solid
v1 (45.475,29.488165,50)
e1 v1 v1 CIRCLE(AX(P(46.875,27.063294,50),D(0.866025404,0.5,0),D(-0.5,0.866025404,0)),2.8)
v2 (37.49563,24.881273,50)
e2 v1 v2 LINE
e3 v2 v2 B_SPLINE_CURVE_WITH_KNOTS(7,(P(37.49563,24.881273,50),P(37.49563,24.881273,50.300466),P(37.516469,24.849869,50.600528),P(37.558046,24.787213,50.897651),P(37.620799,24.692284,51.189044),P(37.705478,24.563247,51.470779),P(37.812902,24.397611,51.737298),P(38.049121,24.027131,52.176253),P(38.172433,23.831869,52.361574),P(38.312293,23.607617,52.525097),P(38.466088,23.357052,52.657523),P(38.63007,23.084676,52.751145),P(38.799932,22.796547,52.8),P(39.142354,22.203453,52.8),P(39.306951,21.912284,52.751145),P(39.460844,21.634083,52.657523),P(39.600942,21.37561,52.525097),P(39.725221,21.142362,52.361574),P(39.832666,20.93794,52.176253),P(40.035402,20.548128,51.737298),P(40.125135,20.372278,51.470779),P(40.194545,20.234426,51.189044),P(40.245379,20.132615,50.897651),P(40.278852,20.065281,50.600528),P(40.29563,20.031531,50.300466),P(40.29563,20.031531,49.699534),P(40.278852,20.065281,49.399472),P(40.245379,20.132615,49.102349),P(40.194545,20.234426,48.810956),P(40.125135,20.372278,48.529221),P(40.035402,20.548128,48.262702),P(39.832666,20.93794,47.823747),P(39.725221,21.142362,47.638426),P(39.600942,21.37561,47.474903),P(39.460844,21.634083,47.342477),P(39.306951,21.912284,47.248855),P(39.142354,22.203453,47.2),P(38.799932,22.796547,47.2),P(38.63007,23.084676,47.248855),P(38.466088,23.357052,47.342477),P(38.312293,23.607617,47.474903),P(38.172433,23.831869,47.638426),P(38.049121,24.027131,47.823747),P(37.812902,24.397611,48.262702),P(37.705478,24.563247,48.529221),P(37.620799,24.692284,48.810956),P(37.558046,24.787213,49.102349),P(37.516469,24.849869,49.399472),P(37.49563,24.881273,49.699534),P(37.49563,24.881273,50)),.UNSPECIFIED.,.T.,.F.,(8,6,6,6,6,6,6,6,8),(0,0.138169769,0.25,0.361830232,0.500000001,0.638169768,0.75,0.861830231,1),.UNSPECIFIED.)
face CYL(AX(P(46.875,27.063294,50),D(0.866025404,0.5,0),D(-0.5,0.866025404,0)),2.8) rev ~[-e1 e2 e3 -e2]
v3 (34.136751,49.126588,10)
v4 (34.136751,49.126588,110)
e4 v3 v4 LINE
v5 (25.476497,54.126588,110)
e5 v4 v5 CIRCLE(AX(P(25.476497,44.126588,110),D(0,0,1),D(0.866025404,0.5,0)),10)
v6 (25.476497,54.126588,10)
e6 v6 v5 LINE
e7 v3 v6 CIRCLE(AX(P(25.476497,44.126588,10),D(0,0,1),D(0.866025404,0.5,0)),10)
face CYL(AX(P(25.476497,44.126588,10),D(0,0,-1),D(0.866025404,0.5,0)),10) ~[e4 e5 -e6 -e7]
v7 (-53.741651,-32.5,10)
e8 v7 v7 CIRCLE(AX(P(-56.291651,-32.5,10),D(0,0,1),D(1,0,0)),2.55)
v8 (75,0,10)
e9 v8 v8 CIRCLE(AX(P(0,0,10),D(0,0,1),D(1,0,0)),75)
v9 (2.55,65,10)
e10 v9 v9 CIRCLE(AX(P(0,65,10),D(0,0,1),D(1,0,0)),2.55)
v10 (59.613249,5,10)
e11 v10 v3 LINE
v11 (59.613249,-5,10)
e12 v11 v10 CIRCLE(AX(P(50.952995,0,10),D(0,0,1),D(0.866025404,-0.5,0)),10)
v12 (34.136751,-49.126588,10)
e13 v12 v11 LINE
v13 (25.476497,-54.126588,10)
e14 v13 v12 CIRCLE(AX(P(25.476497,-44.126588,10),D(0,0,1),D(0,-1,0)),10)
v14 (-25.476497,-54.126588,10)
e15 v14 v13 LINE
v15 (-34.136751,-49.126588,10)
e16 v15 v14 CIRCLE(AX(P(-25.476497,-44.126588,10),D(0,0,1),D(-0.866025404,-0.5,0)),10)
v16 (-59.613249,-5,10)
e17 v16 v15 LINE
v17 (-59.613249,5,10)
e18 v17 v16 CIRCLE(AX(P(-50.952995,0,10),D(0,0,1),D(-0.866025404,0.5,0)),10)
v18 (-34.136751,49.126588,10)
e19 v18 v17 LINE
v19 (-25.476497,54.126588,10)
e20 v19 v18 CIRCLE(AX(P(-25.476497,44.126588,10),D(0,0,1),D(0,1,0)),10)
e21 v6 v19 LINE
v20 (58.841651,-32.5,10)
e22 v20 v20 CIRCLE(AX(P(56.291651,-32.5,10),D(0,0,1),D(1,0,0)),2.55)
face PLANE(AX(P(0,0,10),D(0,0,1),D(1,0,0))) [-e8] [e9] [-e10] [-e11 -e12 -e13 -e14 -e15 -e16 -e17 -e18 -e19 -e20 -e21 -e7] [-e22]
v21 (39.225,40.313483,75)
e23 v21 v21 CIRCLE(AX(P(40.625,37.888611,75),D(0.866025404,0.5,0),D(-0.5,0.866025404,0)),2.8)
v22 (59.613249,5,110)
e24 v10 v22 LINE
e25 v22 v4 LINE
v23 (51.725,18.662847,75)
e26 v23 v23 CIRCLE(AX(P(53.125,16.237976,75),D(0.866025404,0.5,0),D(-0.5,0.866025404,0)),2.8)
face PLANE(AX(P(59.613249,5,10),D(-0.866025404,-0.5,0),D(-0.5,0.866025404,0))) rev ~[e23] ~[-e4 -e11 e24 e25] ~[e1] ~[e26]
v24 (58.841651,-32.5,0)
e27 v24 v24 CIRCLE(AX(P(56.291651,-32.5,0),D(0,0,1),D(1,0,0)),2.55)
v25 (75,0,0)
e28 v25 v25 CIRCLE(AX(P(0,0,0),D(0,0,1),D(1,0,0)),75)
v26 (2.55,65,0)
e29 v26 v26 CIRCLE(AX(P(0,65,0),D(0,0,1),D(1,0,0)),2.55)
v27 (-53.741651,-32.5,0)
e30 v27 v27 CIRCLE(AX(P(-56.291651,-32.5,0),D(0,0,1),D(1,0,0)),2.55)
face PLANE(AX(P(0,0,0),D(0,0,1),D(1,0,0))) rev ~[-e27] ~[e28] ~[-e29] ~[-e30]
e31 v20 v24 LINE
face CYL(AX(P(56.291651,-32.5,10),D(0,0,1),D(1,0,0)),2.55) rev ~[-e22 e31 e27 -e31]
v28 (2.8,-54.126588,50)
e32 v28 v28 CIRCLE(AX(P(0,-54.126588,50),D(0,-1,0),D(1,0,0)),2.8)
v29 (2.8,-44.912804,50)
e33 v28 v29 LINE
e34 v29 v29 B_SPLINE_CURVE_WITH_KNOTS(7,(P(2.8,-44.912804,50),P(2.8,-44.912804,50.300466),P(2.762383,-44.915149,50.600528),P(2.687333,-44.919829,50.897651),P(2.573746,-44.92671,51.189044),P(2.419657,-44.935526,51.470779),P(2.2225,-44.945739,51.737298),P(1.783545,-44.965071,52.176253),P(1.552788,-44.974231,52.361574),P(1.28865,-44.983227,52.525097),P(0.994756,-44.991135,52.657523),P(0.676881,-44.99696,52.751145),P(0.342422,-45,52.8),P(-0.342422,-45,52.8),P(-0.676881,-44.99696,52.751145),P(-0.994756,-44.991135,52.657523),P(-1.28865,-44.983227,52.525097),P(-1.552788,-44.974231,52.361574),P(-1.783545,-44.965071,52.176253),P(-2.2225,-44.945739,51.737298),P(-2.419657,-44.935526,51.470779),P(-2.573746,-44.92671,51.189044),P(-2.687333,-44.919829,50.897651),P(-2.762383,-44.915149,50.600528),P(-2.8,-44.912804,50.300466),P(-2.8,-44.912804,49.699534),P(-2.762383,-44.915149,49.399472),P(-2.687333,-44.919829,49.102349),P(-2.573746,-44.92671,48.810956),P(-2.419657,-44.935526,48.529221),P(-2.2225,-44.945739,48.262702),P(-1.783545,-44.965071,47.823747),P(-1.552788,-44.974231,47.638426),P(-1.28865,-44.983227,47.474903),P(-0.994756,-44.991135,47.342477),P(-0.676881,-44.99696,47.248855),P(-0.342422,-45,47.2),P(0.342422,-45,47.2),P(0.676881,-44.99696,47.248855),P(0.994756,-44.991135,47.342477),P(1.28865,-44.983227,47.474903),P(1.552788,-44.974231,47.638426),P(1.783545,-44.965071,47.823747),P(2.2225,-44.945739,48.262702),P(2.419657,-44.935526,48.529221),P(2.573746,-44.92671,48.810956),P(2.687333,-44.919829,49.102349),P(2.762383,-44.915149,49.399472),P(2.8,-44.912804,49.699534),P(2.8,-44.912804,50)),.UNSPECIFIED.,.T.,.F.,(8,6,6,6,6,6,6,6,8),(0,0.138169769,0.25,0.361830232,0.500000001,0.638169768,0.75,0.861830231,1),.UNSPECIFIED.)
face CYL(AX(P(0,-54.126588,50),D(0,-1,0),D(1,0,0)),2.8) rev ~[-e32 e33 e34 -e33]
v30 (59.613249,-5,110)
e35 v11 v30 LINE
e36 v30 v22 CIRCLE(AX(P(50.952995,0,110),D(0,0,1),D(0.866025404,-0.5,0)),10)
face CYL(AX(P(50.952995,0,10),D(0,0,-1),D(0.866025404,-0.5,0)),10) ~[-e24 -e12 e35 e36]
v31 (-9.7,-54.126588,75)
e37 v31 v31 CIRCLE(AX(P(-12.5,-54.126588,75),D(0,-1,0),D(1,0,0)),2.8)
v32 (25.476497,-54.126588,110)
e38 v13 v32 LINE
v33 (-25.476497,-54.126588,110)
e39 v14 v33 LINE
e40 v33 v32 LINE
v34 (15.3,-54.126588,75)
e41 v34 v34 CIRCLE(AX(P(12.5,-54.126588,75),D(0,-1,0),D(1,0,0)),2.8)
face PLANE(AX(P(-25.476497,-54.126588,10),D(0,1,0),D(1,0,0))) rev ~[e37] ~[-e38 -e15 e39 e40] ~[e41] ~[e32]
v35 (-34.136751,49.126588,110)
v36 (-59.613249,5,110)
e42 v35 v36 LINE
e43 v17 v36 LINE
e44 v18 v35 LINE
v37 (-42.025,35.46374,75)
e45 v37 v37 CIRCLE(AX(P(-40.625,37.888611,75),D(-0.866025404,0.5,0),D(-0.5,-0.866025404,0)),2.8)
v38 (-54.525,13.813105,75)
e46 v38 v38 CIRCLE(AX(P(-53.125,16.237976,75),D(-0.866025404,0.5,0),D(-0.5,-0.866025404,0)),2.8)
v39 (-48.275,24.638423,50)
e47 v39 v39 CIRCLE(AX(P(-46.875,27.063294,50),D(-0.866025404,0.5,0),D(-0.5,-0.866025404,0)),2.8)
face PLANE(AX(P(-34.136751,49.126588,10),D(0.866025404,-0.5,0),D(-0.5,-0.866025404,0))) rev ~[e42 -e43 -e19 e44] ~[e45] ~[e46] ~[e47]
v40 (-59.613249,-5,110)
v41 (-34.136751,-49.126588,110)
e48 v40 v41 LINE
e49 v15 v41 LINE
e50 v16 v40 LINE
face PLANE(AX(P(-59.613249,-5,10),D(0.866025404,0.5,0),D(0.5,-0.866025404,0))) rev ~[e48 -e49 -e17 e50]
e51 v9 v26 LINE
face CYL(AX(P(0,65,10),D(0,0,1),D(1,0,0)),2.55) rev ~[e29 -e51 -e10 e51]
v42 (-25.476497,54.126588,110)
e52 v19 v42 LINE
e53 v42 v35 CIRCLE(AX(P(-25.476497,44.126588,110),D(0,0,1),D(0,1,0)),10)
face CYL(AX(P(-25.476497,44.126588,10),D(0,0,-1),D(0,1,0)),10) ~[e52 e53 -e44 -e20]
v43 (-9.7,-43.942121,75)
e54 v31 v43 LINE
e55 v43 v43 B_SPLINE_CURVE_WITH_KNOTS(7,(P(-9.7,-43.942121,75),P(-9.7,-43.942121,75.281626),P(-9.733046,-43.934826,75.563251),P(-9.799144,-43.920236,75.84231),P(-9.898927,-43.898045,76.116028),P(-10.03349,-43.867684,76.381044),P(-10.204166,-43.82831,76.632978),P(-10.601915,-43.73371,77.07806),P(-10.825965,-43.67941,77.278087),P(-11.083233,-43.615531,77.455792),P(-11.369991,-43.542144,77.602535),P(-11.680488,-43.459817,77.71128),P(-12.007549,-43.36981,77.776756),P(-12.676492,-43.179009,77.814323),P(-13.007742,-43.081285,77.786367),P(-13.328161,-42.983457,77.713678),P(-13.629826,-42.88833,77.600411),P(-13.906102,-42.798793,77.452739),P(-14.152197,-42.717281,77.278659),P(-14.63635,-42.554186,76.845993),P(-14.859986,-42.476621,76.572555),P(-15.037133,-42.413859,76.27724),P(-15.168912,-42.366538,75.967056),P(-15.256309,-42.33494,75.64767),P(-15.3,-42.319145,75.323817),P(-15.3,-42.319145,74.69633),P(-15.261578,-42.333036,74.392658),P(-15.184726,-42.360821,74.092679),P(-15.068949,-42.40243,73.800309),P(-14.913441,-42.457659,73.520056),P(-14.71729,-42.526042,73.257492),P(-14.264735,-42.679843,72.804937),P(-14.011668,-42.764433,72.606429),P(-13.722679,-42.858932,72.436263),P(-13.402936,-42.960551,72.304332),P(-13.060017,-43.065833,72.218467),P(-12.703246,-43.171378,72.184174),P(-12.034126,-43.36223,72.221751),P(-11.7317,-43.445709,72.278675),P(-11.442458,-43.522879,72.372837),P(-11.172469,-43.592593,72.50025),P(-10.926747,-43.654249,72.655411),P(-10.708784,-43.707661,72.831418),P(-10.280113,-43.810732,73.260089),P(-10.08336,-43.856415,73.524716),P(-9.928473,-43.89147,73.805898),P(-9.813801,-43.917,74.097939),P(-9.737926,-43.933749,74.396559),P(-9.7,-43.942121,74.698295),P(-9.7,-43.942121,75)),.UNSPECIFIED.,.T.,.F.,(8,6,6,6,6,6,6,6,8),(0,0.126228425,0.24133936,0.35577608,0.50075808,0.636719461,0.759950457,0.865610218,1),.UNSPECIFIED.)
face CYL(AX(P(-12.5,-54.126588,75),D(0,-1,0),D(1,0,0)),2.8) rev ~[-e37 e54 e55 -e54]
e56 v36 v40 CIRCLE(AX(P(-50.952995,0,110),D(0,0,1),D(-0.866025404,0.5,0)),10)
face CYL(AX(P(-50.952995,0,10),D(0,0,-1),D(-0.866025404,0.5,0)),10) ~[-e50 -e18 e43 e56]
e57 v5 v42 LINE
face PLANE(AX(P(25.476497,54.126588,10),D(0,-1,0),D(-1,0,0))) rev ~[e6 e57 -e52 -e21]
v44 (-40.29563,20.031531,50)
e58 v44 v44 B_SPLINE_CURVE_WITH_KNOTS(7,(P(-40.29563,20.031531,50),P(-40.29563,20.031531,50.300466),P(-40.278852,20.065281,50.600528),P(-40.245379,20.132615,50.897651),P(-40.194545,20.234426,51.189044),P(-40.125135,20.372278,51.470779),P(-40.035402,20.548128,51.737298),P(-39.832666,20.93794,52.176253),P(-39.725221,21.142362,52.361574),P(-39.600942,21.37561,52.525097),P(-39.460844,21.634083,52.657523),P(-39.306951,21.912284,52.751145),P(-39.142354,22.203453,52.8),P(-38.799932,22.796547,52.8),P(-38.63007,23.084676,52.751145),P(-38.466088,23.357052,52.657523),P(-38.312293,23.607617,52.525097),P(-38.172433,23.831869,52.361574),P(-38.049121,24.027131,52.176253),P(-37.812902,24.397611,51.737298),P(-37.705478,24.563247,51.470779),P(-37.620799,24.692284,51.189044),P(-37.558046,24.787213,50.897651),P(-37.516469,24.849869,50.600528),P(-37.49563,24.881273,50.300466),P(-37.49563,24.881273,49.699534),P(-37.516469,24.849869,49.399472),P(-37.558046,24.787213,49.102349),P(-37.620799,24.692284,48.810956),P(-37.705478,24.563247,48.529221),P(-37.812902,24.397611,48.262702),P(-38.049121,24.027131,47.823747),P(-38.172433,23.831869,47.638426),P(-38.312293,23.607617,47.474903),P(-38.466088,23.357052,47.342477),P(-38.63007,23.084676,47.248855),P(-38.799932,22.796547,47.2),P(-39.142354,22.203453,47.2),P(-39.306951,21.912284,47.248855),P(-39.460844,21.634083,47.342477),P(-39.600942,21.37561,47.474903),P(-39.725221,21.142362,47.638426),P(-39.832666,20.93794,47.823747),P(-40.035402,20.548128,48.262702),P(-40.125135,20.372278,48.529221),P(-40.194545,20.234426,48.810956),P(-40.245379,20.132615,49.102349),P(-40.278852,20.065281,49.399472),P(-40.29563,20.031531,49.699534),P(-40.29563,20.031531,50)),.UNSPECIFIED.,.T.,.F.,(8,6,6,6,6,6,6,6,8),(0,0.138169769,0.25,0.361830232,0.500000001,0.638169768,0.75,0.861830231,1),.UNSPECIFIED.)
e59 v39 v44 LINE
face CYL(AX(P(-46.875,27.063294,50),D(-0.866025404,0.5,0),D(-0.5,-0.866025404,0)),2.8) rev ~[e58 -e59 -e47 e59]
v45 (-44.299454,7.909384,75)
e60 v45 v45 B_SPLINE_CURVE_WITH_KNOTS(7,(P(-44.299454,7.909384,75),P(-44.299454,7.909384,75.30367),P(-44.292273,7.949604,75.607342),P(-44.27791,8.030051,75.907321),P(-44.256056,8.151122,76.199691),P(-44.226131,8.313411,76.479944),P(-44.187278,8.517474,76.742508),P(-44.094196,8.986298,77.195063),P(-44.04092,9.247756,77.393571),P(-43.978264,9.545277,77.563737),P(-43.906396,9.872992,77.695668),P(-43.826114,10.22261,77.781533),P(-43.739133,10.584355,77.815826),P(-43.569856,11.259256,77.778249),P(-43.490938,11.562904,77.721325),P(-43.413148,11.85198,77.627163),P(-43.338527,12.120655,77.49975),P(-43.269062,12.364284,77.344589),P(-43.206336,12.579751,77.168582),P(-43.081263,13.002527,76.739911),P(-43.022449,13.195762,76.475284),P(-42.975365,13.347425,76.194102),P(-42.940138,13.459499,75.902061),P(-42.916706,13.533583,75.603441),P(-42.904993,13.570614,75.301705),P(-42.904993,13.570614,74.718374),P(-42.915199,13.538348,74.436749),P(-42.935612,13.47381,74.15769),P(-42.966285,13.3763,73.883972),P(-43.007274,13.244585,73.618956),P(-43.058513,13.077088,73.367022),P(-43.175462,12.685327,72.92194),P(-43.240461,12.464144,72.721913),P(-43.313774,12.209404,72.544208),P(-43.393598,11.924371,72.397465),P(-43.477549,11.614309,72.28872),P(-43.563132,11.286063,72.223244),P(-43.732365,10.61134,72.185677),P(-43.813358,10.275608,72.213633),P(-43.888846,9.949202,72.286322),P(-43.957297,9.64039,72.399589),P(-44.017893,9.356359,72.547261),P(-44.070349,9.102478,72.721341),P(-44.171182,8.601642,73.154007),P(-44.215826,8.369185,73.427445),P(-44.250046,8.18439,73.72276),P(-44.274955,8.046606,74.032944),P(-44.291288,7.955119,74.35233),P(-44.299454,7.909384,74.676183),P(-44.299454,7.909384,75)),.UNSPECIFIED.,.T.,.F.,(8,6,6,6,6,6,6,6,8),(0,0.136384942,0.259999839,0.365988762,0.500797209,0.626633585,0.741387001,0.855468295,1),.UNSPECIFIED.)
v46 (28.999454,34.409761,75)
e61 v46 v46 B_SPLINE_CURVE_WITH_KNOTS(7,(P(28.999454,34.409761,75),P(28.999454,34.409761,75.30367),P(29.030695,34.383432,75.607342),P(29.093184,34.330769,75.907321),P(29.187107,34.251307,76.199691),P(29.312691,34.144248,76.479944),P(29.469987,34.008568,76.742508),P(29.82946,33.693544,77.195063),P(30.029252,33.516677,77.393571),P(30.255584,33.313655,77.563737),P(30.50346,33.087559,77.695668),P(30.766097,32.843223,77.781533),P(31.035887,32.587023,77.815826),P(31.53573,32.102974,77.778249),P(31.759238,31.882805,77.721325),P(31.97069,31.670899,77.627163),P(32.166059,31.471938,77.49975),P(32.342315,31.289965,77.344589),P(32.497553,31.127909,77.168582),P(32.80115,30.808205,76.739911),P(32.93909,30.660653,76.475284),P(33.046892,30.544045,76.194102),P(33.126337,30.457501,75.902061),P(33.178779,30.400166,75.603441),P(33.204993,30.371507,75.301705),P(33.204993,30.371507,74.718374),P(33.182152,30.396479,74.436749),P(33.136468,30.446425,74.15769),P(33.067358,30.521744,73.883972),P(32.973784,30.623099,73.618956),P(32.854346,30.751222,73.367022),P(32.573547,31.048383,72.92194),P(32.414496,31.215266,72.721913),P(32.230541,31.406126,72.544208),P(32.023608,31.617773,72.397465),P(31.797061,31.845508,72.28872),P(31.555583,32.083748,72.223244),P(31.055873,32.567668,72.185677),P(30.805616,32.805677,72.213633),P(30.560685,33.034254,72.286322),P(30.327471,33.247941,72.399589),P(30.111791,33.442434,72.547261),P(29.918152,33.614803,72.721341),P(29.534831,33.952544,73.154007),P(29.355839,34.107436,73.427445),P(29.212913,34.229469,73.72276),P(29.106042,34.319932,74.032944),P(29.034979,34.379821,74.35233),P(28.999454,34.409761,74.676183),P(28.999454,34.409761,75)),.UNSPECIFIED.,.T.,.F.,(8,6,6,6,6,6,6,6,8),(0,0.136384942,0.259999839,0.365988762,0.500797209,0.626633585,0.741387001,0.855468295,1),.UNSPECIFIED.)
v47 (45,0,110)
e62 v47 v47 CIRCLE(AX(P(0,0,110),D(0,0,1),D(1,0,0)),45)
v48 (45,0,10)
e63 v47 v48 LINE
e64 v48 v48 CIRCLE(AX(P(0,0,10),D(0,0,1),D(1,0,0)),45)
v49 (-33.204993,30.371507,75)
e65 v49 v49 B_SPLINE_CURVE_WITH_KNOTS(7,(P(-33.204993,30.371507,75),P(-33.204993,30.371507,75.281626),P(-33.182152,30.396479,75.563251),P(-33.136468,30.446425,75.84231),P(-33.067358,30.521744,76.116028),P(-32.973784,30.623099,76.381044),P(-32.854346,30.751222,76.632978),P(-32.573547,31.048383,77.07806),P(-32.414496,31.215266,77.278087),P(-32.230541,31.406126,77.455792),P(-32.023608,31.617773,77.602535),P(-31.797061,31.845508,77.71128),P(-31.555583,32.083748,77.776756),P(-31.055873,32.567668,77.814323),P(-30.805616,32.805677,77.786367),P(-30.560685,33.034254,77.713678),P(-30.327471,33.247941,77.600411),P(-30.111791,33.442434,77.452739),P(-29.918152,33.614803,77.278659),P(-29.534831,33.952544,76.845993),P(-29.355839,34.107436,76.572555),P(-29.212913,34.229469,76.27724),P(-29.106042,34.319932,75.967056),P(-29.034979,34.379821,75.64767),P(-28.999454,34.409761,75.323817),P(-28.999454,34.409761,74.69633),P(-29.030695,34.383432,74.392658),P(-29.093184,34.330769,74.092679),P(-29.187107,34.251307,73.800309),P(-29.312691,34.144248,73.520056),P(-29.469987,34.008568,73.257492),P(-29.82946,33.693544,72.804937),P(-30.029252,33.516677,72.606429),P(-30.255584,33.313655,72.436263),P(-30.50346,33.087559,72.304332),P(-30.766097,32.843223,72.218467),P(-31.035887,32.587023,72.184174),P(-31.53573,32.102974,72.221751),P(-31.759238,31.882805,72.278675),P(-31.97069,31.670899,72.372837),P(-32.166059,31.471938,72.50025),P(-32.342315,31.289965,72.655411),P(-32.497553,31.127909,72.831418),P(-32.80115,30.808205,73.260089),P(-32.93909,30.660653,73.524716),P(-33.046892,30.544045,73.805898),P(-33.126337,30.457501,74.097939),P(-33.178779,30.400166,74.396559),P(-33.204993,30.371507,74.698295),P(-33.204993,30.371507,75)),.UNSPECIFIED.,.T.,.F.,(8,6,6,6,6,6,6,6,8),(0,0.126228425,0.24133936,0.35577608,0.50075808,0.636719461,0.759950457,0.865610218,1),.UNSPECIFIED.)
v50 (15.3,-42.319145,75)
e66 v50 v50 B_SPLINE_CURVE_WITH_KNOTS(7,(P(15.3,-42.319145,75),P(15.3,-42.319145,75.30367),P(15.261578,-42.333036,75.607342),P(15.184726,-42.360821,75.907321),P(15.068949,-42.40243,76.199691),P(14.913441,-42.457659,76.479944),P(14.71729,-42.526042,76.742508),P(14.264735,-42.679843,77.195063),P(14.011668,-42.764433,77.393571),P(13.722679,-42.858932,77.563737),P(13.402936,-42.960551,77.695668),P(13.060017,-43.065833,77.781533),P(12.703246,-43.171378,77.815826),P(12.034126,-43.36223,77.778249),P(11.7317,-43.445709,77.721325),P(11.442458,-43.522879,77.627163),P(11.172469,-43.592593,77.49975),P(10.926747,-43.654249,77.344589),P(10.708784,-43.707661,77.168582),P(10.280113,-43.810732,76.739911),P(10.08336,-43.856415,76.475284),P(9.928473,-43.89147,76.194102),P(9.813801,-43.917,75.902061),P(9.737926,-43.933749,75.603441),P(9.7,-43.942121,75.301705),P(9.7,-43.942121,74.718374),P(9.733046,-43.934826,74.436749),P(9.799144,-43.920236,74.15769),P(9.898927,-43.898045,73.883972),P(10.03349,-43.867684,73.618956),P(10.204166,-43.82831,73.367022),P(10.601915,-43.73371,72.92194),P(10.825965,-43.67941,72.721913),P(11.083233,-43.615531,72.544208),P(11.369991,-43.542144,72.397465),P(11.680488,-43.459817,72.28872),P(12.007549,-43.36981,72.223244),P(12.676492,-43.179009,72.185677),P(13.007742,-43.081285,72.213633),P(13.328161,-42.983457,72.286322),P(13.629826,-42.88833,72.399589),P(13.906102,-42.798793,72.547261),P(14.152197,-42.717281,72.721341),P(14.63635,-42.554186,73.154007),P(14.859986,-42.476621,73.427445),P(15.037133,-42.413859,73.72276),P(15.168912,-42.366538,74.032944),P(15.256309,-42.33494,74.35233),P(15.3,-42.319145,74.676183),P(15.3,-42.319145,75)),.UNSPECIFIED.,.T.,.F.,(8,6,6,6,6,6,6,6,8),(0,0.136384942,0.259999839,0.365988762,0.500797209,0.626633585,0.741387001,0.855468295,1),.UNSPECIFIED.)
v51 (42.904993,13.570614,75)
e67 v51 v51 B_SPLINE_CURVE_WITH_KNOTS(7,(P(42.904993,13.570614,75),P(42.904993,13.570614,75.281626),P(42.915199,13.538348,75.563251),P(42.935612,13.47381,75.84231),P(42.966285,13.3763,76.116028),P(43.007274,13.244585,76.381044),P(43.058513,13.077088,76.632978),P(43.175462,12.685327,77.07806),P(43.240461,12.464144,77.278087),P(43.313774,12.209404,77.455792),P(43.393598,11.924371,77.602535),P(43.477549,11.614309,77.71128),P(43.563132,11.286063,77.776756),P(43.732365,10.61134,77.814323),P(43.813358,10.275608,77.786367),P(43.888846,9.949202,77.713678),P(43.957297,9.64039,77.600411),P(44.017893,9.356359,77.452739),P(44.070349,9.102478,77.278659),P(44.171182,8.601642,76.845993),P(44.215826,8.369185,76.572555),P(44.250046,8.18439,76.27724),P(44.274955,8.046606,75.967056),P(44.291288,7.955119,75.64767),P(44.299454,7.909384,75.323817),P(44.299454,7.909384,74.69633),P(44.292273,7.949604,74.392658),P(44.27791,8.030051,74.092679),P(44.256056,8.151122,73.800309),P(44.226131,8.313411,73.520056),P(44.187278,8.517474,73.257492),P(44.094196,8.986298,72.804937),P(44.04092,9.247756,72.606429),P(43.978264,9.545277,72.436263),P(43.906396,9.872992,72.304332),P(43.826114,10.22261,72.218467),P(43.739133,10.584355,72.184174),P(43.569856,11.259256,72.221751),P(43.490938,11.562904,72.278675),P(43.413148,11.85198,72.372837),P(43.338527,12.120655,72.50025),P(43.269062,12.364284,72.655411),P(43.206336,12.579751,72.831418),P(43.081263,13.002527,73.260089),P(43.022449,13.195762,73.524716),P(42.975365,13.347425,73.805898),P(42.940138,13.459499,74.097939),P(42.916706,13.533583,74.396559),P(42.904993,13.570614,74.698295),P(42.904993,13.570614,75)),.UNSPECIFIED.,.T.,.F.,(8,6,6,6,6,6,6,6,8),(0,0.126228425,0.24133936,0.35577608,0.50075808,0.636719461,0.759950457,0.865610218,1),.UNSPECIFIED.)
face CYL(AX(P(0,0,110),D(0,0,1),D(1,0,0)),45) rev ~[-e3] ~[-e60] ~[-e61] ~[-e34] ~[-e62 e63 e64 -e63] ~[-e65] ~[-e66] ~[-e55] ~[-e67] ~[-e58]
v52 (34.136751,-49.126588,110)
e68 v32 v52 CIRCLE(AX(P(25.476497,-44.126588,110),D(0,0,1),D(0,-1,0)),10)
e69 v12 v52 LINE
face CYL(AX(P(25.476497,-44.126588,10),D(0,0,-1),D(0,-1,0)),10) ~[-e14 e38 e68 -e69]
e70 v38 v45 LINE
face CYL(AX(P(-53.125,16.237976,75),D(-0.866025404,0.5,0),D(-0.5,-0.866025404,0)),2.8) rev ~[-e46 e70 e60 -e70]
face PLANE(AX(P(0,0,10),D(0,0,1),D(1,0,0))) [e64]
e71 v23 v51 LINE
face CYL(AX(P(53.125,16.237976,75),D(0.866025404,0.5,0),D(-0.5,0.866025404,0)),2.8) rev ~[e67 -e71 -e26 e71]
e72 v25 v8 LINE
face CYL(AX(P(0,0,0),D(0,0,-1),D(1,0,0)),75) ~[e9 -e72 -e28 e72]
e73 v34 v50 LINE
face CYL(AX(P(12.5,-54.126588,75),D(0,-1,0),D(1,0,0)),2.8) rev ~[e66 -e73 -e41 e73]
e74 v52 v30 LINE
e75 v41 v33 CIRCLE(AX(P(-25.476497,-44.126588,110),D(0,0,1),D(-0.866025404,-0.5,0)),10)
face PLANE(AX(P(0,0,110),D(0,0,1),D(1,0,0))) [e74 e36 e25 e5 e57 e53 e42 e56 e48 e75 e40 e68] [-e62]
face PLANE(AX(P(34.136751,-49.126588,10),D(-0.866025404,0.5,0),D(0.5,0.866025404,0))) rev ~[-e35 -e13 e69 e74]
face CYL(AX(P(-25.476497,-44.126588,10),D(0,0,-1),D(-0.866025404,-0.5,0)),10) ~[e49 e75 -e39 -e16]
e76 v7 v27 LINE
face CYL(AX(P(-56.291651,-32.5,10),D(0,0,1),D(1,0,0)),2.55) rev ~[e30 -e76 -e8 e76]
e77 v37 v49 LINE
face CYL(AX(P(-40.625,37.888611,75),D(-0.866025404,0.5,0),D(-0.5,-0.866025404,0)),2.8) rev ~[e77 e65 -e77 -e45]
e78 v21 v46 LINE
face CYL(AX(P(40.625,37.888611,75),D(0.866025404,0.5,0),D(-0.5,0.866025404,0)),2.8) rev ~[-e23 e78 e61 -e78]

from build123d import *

# Parameters (mm, degrees)
SKETCH1_R               = 75
BOSS_EXTRUDE1_DEPTH     = 10
BOSS_EXTRUDE2_DEPTH     = 100
SKETCH4_R               = 45
CUT_EXTRUDE1_DEPTH      = 100
CUT_EXTRUDE2_REACH      = 187.469
CUT_EXTRUDE2_END_RADIUS = 45
SKETCH5_R               = 2.8
CIRPATTERN1_COUNT       = 3
SKETCH7_R               = 2.55
CUT_EXTRUDE3_DEPTH      = 10


with BuildPart() as part:
    # Sketch1 → Boss-Extrude1 (new body)
    with BuildSketch(Plane.XY):
        Circle(SKETCH1_R)
    extrude(amount=BOSS_EXTRUDE1_DEPTH)

    # Sketch2 → Boss-Extrude2 (add)
    with BuildSketch(Plane.XY.offset(10)):
        with BuildLine():
            Line((59.613248654, 5), (34.136751346, 49.126587737))
            ThreePointArc((34.136751346, 49.126587737), (30.476497308, 52.786841774), (25.476497308, 54.126587737))
            Line((25.476497308, 54.126587737), (-25.476497308, 54.126587737))
            ThreePointArc((-25.476497308, 54.126587737), (-30.476497308, 52.786841774), (-34.136751346, 49.126587737))
            Line((-34.136751346, 49.126587737), (-59.613248654, 5))
            ThreePointArc((-59.613248654, 5), (-60.952994616, 0), (-59.613248654, -5))
            Line((-59.613248654, -5), (-34.136751346, -49.126587737))
            ThreePointArc((-34.136751346, -49.126587737), (-30.476497308, -52.786841774), (-25.476497308, -54.126587737))
            Line((-25.476497308, -54.126587737), (25.476497308, -54.126587737))
            ThreePointArc((25.476497308, -54.126587737), (30.476497308, -52.786841774), (34.136751346, -49.126587737))
            Line((34.136751346, -49.126587737), (59.613248654, -5))
            ThreePointArc((59.613248654, -5), (60.952994616, 0), (59.613248654, 5))
        make_face()
    extrude(amount=BOSS_EXTRUDE2_DEPTH)

    # Sketch4 → Cut-Extrude1 (cut)
    with BuildSketch(Plane.XY.offset(110)):
        Circle(SKETCH4_R)
    extrude(amount=-CUT_EXTRUDE1_DEPTH, mode=Mode.SUBTRACT)

    # Cut-Extrude2: up to this cylinder (the profile starts outside it)
    cut_extrude2_end = Plane(origin=(0, 0, 62.5), z_dir=(0, 0, 1)) * Cylinder(CUT_EXTRUDE2_END_RADIUS, 490.938, mode=Mode.PRIVATE)
    # Sketch5 → Cut-Extrude2 (cut, up to the surface)
    with BuildSketch(Plane.XZ.offset(54.126587737), mode=Mode.PRIVATE) as cut_extrude2_sk1:
        with Locations((0, 50)):
            Circle(SKETCH5_R)
    cut_extrude2_tool1 = extrude(cut_extrude2_sk1.sketch, amount=-CUT_EXTRUDE2_REACH, mode=Mode.PRIVATE) - cut_extrude2_end
    # Sketch5 → Cut-Extrude2 (cut, up to the surface)
    with BuildSketch(Plane.XZ.offset(54.126587737), mode=Mode.PRIVATE) as cut_extrude2_sk2:
        with Locations((-12.5, 75)):
            Circle(SKETCH5_R)
    cut_extrude2_tool2 = extrude(cut_extrude2_sk2.sketch, amount=-CUT_EXTRUDE2_REACH, mode=Mode.PRIVATE) - cut_extrude2_end
    # Sketch5 → Cut-Extrude2 (cut, up to the surface)
    with BuildSketch(Plane.XZ.offset(54.126587737), mode=Mode.PRIVATE) as cut_extrude2_sk3:
        with Locations((12.5, 75)):
            Circle(SKETCH5_R)
    cut_extrude2_tool3 = extrude(cut_extrude2_sk3.sketch, amount=-CUT_EXTRUDE2_REACH, mode=Mode.PRIVATE) - cut_extrude2_end
    cut_extrude2 = cut_extrude2_tool1.solids().sort_by_distance((0, -54.126588, 50))[0] + cut_extrude2_tool2.solids().sort_by_distance((-12.5, -54.126588, 75))[0] + cut_extrude2_tool3.solids().sort_by_distance((12.5, -54.126588, 75))[0]
    add(cut_extrude2, mode=Mode.SUBTRACT)

    # CirPattern1: Cut-Extrude2 ×3 about axis
    cirpattern1_axis = Axis((0, 0, -117.279220614), (0, 0, 1))
    for i in range(1, CIRPATTERN1_COUNT):
        add(cut_extrude2.rotate(cirpattern1_axis, i * 360 / CIRPATTERN1_COUNT), mode=Mode.SUBTRACT)

    # Sketch7 → Cut-Extrude3 (cut)
    with BuildSketch(Plane.XY.offset(10)):
        with Locations((0, 65)):
            Circle(SKETCH7_R)
        with Locations((56.291651246, -32.5)):
            Circle(SKETCH7_R)
        with Locations((-56.291651246, -32.5)):
            Circle(SKETCH7_R)
    extrude(amount=-CUT_EXTRUDE3_DEPTH, mode=Mode.SUBTRACT)


solid = part.part
